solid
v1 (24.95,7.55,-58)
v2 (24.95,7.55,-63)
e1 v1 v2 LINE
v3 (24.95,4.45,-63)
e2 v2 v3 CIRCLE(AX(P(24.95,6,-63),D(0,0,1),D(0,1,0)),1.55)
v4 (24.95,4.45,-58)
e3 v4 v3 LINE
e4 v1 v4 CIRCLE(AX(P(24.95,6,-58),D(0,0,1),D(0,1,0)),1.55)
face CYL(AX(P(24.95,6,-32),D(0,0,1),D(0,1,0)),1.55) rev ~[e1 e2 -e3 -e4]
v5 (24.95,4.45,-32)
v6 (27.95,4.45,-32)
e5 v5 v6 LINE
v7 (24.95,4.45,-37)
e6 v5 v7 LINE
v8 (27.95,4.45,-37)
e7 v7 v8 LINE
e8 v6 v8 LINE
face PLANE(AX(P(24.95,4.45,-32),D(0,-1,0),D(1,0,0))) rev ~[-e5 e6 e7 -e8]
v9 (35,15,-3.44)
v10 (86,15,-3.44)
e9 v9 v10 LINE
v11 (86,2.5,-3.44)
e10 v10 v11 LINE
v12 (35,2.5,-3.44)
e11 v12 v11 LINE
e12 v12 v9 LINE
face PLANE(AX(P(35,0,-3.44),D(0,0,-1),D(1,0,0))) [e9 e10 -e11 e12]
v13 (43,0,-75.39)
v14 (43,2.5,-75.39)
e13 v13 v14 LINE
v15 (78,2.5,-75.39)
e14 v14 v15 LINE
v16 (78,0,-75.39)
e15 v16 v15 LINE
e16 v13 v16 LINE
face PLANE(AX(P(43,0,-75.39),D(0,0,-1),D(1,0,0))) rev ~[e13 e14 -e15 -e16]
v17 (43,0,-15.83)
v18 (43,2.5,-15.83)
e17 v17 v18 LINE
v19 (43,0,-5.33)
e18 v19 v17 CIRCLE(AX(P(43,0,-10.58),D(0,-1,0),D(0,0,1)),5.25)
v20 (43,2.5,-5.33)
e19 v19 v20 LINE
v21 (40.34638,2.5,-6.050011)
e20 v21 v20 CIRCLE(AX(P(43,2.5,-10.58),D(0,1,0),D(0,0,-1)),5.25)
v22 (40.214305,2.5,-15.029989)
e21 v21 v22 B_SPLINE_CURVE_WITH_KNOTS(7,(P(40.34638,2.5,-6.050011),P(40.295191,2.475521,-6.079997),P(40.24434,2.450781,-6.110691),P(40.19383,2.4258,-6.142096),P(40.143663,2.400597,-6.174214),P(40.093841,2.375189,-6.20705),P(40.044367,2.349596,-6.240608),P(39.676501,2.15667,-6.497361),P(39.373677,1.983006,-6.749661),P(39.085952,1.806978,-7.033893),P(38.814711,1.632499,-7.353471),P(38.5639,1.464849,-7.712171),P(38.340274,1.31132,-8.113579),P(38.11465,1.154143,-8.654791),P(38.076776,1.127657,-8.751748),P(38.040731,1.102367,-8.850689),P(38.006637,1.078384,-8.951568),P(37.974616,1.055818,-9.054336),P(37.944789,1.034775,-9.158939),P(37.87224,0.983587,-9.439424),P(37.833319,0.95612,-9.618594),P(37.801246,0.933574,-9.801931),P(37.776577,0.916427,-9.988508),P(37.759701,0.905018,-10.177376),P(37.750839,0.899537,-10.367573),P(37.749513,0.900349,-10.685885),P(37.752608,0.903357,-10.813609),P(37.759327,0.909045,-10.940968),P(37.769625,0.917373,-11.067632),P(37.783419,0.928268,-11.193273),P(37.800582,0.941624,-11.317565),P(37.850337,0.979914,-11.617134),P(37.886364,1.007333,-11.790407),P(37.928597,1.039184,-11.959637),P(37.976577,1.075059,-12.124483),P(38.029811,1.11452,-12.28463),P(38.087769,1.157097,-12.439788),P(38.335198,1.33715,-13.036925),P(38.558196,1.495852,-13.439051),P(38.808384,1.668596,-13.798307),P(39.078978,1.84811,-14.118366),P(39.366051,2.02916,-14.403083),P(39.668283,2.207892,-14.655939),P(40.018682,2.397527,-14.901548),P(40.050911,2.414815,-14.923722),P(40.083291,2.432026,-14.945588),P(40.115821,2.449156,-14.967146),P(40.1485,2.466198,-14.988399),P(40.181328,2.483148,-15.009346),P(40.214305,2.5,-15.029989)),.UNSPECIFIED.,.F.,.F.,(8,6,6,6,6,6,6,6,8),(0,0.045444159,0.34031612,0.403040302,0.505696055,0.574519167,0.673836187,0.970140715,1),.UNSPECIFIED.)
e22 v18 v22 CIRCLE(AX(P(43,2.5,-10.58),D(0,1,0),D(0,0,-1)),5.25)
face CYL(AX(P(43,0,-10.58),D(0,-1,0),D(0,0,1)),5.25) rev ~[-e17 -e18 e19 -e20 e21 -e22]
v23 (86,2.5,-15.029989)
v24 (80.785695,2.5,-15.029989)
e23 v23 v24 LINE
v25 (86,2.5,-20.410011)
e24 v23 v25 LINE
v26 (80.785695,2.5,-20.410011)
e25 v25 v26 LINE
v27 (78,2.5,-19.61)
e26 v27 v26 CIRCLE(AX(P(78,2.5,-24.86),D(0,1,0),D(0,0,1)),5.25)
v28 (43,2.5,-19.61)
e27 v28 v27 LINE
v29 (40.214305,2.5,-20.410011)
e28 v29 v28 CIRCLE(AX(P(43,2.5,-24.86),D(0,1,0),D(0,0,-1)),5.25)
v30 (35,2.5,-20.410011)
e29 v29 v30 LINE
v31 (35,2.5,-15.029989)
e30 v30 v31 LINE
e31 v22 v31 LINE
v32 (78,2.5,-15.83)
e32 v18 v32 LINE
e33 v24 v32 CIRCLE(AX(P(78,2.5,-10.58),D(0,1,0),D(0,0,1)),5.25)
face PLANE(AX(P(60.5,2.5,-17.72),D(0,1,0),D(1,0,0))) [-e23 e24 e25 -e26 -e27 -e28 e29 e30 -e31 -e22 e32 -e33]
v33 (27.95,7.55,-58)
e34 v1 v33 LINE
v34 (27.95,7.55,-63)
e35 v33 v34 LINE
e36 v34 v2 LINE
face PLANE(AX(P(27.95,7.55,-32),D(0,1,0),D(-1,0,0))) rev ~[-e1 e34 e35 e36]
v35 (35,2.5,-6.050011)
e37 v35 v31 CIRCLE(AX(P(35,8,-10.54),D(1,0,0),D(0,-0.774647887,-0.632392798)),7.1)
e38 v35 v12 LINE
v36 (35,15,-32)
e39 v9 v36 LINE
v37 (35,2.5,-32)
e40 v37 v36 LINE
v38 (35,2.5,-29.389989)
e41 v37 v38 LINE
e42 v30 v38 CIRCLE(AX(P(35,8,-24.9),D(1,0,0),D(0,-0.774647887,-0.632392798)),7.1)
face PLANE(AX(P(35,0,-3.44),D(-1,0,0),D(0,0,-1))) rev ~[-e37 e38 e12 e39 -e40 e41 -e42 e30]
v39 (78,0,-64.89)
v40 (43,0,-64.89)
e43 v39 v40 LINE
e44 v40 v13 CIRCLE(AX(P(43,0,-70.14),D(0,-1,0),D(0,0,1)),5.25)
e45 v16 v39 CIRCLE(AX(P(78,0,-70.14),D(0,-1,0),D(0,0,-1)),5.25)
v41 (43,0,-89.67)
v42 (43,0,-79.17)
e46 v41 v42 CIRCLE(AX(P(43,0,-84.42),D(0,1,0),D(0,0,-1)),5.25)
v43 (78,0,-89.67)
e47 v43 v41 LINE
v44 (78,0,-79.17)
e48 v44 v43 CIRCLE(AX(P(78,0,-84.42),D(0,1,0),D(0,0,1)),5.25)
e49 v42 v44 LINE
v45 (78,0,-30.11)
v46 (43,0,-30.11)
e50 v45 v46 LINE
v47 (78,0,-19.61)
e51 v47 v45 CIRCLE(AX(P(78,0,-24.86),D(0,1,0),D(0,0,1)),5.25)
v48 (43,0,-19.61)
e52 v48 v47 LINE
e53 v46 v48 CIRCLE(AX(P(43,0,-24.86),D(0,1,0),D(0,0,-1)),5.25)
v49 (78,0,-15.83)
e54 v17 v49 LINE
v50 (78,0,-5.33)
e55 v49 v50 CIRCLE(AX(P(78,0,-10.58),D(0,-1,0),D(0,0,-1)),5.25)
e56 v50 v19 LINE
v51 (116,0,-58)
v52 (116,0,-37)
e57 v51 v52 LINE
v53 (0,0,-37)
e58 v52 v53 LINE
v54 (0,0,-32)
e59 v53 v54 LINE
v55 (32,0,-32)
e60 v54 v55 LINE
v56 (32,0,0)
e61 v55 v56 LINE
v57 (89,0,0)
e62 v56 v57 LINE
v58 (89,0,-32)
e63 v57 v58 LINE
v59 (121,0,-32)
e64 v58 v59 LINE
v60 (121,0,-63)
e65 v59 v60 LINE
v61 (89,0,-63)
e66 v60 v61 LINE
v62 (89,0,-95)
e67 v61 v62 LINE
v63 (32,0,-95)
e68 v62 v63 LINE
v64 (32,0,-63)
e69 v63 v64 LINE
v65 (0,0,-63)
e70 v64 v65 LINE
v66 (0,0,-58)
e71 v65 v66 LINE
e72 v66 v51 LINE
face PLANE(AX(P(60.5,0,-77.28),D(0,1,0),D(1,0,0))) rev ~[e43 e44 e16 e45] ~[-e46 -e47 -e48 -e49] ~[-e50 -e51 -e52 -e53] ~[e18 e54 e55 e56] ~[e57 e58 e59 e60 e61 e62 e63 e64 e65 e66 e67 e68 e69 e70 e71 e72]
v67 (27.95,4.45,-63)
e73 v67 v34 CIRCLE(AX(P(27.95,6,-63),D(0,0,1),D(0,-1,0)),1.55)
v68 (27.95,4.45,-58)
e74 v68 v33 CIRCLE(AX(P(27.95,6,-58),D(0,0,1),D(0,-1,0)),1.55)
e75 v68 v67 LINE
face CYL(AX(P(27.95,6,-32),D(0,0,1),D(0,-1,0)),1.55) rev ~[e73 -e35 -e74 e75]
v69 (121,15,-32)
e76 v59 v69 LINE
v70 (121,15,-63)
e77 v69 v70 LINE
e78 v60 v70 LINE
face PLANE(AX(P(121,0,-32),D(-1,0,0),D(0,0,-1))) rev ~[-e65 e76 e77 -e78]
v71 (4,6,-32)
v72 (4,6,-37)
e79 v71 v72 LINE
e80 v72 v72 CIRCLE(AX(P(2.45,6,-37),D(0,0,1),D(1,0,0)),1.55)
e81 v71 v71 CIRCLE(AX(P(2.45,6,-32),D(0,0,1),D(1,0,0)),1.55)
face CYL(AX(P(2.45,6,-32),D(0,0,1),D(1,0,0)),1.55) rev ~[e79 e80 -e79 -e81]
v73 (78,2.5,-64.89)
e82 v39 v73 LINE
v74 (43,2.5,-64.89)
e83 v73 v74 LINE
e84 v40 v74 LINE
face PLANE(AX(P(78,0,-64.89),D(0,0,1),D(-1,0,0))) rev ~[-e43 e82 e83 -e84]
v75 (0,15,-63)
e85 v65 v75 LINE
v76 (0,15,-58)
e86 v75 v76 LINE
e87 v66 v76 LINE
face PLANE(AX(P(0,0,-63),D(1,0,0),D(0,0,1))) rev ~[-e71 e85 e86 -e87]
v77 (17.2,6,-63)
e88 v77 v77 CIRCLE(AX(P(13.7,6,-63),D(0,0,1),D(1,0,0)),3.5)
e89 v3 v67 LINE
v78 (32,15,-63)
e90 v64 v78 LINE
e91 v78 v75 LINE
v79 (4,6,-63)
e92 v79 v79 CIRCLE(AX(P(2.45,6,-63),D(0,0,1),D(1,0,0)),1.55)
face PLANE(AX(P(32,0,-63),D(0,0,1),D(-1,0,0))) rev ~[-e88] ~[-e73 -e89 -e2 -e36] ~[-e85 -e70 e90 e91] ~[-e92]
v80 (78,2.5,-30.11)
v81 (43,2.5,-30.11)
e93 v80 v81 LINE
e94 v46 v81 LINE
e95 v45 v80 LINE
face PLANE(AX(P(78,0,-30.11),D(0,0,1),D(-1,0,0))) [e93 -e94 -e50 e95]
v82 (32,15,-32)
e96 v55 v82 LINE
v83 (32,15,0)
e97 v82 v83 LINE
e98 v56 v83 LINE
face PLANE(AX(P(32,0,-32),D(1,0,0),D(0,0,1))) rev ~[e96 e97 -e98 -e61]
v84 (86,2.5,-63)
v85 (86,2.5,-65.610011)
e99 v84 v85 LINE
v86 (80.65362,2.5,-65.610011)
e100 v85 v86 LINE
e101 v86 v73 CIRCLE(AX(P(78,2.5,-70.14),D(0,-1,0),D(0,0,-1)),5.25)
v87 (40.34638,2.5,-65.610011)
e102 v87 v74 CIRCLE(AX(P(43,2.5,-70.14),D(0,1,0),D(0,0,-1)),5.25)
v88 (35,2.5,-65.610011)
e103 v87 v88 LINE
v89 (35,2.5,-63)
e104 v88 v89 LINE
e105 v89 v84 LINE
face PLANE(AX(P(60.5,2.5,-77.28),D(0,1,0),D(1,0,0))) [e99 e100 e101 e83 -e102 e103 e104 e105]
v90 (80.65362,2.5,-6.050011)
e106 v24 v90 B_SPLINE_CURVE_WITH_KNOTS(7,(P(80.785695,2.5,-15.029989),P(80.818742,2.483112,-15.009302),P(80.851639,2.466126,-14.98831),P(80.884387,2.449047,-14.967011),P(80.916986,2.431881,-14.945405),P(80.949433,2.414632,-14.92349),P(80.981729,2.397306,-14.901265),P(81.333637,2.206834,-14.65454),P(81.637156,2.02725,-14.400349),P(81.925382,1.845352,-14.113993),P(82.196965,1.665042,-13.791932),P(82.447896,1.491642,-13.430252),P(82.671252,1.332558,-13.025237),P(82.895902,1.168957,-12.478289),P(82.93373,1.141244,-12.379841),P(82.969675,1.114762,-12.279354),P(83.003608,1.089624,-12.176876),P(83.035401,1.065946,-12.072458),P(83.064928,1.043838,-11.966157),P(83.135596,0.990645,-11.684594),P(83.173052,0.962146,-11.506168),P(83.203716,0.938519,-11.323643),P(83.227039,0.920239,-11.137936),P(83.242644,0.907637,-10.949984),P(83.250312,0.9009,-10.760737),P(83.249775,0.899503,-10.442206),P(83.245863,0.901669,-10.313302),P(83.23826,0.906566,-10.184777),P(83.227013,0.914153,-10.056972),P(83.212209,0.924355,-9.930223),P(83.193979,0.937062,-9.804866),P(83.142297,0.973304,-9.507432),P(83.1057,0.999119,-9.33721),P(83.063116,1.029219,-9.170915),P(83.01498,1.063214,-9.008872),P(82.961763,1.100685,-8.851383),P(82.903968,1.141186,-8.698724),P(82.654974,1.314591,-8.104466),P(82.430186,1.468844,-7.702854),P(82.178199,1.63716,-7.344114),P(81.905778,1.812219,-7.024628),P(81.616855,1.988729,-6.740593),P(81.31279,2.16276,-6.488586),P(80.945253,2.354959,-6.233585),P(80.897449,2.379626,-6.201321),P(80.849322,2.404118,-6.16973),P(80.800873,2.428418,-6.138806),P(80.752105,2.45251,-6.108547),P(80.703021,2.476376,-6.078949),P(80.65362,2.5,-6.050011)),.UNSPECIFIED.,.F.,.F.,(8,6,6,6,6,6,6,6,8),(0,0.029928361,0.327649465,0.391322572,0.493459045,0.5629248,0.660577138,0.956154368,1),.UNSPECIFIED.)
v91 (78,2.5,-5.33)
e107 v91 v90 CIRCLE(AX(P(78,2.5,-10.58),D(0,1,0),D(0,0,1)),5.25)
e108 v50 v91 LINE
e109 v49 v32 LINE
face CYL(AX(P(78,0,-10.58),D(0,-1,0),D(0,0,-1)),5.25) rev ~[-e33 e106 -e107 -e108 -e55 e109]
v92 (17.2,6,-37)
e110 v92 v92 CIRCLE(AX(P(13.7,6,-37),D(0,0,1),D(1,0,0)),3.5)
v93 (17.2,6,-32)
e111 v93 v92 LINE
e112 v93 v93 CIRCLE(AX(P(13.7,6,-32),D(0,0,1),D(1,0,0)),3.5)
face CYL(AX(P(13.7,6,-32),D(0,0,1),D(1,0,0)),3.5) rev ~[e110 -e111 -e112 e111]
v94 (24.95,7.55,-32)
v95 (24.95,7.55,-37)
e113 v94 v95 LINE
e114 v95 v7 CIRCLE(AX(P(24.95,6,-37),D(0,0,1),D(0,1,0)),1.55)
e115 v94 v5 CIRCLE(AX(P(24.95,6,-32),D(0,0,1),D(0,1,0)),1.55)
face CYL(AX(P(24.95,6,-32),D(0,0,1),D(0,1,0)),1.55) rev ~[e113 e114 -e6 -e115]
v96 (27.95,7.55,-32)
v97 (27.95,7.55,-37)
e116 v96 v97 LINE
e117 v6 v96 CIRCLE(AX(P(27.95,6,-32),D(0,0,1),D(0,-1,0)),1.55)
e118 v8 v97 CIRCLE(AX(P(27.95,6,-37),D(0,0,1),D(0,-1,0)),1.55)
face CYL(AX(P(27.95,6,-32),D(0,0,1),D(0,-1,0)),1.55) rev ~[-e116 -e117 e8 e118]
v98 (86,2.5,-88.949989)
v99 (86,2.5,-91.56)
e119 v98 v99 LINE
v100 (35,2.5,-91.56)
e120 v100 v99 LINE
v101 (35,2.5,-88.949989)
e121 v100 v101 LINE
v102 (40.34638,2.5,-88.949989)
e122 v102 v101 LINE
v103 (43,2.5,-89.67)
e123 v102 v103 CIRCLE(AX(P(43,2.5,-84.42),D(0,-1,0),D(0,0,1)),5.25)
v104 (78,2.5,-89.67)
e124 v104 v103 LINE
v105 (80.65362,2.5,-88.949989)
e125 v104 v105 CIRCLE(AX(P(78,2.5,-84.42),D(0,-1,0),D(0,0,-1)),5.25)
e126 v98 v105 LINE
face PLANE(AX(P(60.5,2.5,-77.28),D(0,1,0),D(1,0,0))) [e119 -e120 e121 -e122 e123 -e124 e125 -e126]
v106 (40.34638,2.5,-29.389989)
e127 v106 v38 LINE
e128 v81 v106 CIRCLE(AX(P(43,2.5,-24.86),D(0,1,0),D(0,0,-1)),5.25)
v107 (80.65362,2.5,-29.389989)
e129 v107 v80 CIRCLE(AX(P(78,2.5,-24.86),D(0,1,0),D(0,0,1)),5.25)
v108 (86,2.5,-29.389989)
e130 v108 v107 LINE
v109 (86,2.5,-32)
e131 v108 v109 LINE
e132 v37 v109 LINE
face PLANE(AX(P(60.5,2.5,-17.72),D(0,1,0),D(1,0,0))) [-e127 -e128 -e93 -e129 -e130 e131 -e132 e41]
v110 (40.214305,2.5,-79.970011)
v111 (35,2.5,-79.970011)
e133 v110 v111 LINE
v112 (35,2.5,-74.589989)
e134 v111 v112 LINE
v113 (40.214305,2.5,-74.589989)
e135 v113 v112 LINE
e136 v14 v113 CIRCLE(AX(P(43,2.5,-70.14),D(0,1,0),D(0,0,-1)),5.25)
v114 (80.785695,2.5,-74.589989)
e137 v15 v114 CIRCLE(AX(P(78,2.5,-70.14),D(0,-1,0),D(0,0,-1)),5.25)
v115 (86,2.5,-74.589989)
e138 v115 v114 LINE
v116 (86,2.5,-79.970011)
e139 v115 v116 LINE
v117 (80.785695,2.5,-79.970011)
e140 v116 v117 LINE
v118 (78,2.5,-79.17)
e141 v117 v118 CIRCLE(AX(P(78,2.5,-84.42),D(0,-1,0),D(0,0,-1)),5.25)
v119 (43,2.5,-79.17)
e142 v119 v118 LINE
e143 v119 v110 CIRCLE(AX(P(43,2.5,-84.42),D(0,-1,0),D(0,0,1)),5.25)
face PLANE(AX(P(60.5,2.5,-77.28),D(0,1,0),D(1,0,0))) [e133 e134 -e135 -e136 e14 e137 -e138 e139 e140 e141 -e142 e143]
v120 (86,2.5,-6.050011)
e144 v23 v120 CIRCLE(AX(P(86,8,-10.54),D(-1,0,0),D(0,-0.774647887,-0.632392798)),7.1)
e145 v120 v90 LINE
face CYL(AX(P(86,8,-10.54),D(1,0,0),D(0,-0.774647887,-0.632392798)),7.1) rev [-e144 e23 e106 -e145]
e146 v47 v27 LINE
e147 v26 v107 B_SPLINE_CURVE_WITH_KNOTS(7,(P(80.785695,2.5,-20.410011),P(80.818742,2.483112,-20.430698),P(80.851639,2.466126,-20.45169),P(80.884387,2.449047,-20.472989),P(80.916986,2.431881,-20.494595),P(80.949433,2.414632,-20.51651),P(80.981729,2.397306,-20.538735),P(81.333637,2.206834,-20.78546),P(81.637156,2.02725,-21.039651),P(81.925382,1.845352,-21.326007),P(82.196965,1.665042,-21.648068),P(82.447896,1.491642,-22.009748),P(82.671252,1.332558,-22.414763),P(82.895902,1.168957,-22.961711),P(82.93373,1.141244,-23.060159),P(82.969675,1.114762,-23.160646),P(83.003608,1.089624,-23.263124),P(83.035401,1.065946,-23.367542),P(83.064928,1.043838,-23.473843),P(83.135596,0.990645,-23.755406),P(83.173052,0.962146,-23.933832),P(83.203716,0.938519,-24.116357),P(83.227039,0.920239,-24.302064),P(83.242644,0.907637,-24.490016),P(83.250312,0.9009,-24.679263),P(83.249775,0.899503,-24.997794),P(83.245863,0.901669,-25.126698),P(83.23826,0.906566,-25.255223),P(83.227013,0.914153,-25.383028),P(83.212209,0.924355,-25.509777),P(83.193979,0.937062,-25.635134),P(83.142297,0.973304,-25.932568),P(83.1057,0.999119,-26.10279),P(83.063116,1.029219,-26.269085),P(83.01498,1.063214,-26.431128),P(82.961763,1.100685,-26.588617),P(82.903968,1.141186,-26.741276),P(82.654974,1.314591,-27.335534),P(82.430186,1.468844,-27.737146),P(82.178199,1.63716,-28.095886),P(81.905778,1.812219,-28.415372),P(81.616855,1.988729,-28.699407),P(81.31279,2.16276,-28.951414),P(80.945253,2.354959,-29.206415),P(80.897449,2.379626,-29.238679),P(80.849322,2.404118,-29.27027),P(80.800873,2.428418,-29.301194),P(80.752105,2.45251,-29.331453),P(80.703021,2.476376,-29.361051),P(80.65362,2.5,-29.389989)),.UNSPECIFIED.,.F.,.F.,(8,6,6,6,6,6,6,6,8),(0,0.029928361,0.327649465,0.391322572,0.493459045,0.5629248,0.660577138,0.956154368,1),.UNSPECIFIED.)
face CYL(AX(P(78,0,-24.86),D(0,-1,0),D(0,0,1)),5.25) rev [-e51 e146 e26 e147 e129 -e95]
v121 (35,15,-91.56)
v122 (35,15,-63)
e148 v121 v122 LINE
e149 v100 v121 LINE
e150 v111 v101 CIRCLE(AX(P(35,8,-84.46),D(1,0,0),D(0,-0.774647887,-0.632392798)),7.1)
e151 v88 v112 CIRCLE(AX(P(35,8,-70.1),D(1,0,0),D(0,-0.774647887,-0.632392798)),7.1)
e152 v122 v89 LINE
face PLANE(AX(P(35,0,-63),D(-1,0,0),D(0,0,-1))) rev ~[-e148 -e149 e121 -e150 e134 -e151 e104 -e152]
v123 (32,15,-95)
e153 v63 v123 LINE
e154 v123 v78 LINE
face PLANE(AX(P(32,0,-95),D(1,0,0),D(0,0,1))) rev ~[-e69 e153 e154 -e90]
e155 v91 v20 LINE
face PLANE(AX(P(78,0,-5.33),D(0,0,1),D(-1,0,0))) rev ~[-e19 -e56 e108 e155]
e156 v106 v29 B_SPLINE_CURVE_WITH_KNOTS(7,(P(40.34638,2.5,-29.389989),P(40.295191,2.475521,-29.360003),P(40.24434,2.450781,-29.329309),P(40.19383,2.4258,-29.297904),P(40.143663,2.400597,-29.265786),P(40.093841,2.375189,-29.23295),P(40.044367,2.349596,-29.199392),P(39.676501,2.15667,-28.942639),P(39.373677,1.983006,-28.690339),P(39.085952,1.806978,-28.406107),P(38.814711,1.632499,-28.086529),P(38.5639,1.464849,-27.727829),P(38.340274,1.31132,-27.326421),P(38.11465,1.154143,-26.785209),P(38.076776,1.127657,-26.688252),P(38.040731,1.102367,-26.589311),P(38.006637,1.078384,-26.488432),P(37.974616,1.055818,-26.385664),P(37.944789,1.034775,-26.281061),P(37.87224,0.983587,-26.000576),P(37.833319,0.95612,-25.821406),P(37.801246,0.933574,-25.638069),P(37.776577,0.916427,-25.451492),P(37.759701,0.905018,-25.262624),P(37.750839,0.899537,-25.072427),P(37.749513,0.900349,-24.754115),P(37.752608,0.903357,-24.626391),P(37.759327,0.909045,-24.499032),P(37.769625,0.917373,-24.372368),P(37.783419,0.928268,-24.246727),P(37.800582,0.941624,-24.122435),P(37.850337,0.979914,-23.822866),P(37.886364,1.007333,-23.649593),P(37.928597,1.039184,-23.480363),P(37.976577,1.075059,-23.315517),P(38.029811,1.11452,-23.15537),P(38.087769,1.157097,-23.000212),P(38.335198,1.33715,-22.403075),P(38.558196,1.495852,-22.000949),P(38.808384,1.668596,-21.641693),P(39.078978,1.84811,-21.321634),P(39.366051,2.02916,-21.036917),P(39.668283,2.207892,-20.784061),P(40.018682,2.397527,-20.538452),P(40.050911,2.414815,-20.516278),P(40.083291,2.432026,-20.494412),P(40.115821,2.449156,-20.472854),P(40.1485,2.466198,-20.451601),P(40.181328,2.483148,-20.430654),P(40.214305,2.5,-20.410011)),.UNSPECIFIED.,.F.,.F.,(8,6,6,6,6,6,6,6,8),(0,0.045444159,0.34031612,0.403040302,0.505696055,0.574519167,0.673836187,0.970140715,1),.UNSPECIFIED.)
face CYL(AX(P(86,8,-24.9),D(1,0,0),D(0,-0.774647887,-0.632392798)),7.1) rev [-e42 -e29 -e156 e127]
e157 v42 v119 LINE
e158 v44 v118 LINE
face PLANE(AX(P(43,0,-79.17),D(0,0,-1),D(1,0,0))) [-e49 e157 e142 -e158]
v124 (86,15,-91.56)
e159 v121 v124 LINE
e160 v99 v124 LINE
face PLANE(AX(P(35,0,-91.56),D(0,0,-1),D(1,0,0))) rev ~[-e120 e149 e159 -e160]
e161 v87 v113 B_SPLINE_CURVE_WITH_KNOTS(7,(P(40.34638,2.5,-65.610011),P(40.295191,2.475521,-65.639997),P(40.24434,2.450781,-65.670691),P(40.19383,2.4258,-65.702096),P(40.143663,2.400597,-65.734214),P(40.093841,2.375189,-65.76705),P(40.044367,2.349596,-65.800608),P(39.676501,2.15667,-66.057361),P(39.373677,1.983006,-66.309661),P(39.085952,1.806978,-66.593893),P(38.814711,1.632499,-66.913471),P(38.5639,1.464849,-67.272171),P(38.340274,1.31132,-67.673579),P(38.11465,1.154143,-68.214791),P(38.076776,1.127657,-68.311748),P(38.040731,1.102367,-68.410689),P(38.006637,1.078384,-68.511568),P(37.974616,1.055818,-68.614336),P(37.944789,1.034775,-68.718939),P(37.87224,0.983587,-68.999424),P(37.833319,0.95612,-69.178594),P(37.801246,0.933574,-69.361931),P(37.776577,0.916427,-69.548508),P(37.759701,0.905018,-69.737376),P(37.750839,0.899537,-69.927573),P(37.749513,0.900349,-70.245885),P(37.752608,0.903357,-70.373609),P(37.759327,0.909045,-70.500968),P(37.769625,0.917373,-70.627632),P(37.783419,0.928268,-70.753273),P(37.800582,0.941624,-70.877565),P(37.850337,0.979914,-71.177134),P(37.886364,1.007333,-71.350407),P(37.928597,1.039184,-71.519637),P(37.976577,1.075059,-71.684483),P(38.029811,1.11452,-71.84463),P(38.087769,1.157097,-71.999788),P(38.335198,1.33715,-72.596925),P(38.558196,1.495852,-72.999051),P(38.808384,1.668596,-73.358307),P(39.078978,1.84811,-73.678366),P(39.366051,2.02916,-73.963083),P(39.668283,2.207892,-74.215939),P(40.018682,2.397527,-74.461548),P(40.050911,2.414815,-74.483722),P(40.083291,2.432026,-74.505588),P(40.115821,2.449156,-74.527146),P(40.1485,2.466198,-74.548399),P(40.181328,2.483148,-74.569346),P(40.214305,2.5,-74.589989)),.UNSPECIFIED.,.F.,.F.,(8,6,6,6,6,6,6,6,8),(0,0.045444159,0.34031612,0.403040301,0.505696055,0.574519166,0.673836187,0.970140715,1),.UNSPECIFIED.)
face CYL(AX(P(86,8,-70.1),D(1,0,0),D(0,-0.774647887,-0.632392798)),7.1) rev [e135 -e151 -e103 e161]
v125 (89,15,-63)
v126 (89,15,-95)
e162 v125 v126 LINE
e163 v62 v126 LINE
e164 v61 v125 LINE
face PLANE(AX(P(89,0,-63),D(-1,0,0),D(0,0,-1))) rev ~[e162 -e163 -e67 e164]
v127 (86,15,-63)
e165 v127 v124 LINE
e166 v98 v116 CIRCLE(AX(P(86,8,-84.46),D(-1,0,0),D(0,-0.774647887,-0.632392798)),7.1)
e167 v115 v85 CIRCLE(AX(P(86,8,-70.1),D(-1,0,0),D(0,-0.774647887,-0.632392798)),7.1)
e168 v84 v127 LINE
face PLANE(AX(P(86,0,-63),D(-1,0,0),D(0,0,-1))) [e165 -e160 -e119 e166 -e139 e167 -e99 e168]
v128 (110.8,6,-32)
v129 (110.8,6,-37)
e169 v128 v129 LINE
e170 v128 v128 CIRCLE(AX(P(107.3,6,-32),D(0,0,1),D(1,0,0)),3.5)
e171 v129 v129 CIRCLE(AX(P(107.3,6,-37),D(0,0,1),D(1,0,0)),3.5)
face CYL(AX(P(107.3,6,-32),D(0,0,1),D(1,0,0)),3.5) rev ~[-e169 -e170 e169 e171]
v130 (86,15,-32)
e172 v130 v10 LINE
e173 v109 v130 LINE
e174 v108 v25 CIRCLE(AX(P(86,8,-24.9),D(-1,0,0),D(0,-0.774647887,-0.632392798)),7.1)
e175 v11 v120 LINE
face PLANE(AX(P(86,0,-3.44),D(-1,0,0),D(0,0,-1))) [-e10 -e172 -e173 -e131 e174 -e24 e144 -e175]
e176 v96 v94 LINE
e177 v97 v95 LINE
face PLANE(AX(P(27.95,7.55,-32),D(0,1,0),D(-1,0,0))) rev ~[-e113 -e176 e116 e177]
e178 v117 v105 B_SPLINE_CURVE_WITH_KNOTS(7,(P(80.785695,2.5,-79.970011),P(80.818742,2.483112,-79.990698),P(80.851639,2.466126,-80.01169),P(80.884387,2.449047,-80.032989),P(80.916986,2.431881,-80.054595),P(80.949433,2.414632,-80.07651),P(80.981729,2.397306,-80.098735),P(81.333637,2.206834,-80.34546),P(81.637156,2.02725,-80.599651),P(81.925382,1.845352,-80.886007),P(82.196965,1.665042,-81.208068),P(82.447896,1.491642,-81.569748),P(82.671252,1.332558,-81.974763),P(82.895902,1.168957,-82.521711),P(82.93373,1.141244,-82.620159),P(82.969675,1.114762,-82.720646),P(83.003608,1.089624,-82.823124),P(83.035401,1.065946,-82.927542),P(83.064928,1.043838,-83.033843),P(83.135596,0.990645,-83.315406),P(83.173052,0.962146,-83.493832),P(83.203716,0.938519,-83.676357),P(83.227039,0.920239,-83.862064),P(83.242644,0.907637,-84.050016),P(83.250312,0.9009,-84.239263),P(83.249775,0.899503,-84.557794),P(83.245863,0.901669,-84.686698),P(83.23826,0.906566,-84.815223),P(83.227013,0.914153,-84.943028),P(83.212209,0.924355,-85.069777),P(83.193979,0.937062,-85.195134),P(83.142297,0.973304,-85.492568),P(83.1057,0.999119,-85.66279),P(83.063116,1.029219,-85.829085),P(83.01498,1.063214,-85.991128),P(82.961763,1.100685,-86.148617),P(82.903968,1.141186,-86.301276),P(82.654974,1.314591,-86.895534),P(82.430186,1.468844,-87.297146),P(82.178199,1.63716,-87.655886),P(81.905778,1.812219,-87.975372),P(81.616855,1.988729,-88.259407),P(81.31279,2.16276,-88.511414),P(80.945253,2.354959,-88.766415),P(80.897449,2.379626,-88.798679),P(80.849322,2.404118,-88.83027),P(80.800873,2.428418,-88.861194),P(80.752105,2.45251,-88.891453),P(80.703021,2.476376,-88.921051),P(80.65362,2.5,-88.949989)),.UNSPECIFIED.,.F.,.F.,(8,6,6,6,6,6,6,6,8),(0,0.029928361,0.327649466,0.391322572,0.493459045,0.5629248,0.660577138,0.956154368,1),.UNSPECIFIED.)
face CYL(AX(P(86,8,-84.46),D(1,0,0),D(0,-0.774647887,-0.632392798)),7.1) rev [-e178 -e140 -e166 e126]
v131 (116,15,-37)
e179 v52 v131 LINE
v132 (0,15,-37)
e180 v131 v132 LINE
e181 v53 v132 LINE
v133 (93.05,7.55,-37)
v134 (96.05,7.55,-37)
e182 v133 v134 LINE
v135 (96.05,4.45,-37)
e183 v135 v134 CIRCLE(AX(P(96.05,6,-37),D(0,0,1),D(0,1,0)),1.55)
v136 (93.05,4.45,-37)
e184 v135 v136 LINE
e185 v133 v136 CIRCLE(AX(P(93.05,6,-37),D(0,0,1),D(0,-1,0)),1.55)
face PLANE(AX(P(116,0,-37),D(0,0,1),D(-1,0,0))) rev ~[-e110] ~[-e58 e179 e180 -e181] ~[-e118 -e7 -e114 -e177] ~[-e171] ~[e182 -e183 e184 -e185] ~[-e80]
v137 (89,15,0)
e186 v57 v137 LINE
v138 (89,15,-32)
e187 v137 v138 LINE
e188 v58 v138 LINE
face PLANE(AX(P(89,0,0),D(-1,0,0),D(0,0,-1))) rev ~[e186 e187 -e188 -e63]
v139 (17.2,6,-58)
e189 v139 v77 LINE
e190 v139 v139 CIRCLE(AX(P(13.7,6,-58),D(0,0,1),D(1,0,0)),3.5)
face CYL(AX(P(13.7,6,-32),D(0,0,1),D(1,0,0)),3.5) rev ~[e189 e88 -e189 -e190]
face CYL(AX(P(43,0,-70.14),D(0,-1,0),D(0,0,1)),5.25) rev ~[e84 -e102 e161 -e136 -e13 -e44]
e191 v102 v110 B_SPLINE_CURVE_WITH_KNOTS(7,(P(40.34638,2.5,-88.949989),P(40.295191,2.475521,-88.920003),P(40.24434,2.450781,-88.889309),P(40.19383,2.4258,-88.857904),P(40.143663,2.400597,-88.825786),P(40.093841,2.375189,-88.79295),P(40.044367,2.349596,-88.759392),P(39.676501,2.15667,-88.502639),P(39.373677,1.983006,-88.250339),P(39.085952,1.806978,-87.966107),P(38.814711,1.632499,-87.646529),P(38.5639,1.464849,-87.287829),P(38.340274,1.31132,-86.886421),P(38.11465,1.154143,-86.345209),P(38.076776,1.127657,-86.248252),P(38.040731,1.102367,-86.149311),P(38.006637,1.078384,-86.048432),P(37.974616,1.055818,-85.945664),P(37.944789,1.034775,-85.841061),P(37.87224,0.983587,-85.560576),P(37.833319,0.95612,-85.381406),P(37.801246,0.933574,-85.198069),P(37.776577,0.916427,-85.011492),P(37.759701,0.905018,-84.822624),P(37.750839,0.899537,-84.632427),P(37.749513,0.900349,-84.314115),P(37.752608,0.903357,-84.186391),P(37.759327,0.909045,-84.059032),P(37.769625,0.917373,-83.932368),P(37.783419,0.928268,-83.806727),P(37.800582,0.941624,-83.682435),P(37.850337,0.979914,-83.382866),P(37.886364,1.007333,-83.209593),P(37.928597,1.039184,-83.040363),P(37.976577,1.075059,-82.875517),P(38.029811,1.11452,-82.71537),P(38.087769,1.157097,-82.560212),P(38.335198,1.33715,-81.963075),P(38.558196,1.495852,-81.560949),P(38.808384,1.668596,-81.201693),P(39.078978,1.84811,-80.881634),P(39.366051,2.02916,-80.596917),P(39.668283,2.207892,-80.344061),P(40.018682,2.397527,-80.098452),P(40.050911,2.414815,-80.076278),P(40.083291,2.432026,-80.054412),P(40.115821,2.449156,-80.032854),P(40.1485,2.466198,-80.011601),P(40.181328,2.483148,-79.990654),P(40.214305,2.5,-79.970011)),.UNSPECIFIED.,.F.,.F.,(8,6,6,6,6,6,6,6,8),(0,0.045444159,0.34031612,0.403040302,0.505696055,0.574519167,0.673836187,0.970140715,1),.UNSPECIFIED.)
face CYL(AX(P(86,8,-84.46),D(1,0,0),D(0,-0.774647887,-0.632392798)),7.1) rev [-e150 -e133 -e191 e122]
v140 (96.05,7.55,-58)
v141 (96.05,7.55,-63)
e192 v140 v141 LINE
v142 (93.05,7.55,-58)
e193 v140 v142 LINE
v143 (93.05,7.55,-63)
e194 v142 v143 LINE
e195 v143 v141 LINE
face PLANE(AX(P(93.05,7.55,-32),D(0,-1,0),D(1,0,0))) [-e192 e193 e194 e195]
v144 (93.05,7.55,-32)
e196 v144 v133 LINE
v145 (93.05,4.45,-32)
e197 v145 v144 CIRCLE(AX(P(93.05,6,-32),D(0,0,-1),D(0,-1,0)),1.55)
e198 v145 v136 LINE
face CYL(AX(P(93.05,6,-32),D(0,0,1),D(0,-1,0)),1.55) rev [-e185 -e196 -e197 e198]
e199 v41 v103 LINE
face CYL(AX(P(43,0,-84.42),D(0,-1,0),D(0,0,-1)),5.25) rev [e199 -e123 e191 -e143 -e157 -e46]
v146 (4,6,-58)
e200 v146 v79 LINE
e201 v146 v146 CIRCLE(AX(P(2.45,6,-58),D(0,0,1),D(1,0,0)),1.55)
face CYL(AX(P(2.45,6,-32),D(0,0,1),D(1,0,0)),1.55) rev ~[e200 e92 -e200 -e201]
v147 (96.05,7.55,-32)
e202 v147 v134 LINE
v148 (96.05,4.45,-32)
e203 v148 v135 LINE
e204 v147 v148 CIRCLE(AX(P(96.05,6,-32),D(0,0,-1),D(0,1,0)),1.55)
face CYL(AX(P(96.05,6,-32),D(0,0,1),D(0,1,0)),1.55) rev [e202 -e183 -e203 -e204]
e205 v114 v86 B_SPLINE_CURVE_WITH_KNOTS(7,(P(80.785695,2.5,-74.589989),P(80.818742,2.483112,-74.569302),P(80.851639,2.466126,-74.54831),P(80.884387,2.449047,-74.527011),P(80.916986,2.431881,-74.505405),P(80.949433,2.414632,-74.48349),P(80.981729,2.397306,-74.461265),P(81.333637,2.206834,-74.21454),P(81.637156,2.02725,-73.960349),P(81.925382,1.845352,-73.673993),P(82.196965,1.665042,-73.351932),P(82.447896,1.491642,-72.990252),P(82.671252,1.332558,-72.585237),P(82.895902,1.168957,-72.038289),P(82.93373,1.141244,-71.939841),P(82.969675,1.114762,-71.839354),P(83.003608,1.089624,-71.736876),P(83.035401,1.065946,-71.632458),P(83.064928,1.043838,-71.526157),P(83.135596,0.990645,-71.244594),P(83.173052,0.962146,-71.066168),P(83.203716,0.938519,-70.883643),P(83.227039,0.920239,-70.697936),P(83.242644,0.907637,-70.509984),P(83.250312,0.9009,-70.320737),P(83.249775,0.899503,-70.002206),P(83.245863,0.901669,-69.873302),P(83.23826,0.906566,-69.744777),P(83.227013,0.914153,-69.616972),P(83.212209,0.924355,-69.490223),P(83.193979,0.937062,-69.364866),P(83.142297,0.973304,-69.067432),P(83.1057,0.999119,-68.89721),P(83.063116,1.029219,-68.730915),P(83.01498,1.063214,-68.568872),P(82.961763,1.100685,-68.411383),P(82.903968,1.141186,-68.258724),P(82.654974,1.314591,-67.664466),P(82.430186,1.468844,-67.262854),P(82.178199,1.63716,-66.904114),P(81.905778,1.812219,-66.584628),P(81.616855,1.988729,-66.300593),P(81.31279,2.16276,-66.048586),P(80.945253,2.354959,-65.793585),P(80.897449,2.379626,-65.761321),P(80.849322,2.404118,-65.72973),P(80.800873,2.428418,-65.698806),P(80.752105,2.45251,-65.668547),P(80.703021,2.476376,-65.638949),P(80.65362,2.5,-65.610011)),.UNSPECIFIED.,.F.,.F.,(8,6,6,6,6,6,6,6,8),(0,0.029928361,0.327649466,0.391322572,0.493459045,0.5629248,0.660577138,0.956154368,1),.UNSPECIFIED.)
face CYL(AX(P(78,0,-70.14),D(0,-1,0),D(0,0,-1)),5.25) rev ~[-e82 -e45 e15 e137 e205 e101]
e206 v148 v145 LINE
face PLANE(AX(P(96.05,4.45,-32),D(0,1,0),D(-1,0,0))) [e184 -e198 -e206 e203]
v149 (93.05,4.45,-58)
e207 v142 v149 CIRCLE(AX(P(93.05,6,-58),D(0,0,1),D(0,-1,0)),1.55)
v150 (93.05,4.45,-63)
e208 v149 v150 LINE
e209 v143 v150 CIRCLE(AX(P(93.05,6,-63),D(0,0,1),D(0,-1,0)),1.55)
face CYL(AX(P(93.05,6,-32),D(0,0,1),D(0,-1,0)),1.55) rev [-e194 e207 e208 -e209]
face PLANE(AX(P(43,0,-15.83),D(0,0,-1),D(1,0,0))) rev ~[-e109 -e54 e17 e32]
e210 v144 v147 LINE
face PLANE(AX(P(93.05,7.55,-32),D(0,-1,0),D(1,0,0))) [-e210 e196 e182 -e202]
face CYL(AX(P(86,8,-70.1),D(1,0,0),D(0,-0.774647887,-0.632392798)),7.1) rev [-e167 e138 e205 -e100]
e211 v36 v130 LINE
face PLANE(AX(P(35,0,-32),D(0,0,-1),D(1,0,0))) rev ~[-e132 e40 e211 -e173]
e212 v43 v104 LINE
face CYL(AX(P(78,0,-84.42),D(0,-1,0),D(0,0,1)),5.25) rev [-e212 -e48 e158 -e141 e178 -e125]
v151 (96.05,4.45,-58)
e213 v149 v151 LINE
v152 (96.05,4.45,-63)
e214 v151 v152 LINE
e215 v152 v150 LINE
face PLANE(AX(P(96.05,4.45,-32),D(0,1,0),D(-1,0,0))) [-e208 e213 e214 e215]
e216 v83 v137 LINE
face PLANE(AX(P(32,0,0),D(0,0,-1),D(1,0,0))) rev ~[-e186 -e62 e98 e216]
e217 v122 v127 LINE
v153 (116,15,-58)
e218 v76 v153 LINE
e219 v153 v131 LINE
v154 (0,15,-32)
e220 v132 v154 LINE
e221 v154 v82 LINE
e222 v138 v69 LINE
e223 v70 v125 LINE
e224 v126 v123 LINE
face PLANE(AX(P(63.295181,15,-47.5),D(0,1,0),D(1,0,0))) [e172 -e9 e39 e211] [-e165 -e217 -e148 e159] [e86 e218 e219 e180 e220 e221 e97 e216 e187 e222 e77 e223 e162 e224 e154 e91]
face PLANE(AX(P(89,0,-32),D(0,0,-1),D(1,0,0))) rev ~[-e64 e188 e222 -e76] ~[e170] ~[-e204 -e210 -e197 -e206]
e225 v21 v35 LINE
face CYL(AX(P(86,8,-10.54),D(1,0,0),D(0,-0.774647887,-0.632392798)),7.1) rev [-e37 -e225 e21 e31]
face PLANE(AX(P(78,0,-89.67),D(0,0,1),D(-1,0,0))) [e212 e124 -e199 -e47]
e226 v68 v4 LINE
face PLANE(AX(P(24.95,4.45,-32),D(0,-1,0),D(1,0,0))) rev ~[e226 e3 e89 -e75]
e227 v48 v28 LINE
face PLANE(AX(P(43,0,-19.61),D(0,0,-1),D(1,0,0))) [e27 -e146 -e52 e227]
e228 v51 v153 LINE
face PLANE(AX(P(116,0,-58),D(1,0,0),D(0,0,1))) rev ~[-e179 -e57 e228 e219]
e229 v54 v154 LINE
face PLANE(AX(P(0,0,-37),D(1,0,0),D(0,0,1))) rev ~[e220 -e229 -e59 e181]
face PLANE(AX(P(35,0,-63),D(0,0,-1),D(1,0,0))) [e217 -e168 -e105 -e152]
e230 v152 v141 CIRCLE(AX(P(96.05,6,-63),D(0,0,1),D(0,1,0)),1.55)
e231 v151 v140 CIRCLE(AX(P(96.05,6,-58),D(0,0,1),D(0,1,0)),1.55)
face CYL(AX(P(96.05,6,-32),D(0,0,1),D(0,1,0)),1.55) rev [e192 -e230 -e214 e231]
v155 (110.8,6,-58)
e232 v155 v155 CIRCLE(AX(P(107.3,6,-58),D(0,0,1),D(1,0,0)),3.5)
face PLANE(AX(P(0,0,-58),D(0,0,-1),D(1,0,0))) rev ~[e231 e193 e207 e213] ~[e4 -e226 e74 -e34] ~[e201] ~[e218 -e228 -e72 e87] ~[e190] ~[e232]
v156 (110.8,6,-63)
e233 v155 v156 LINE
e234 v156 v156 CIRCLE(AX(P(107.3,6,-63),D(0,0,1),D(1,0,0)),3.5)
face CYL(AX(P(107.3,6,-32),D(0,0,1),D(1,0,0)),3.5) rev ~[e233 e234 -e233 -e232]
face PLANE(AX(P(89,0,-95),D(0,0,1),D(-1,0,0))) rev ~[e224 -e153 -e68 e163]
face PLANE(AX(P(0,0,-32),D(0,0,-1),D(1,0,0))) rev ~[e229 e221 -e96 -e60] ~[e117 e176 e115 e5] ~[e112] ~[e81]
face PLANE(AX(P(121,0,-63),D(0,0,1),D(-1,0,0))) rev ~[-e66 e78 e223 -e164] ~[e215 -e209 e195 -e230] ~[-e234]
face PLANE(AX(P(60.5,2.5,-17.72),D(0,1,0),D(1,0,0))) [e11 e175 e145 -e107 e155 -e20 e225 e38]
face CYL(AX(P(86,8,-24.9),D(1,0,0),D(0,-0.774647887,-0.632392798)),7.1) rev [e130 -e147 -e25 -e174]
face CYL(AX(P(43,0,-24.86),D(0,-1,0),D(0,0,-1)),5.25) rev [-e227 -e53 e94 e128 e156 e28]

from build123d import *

# Parameters (mm, degrees)
SKETCH1_W                  = 51
SKETCH1_H                  = 28.56
TOTALHEIGHT_DEPTH          = 15
SKETCH1_3_W                = 51
SKETCH1_3_H                = 28.56
FLOORHEIGHT_DEPTH          = 2.5
HOLESFORBEARINGMOUNT_REACH = 139.241
SKETCH2_R                  = 1.55
SKETCH2_R_2                = 3.5
CUT_EXTRUDE2_REACH         = 131.019


with BuildPart() as part:
    # Sketch1 → TotalHeight (new body)
    with BuildSketch(Plane(origin=(0, 0, 0), x_dir=(1, 0, 0), z_dir=(0, 1, 0))):
        Polygon((32, 32), (32, 0), (89, 0), (89, 32), (121, 32), (121, 47.5), (121, 63), (89, 63), (89, 95), (32, 95), (32, 63), (0, 63), (0, 58), (5, 58), (116, 58), (116, 37), (5, 37), (0, 37), (0, 32), align=None)
        with Locations((60.5, 17.72)):
            Rectangle(SKETCH1_W, SKETCH1_H, mode=Mode.SUBTRACT)
        with Locations((60.5, 77.28)):
            Rectangle(SKETCH1_W, SKETCH1_H, mode=Mode.SUBTRACT)
    extrude(amount=TOTALHEIGHT_DEPTH)

    # Sketch1<3> → FloorHeight (add)
    # profile 1 of 2: a face of its own
    with BuildSketch(Plane(origin=(0, 0, 0), x_dir=(1, 0, 0), z_dir=(0, 1, 0))):
        with Locations((60.5, 77.28)):
            Rectangle(SKETCH1_3_W, SKETCH1_3_H)
        with BuildLine():
            ThreePointArc((78, 79.17), (83.25, 84.42), (78, 89.67))
            Line((78, 89.67), (43, 89.67))
            ThreePointArc((43, 89.67), (37.75, 84.42), (43, 79.17))
            Line((43, 79.17), (78, 79.17))
        make_face(mode=Mode.SUBTRACT)
        with BuildLine():
            Line((43, 75.39), (78, 75.39))
            ThreePointArc((78, 75.39), (83.25, 70.14), (78, 64.89))
            Line((78, 64.89), (43, 64.89))
            ThreePointArc((43, 64.89), (37.75, 70.14), (43, 75.39))
        make_face(mode=Mode.SUBTRACT)
    # profile 2 of 2: a face of its own
    with BuildSketch(Plane(origin=(0, 0, 0), x_dir=(1, 0, 0), z_dir=(0, 1, 0))):
        with Locations((60.5, 17.72)):
            Rectangle(SKETCH1_3_W, SKETCH1_3_H)
        with BuildLine():
            ThreePointArc((78, 19.61), (83.25, 24.86), (78, 30.11))
            Line((78, 30.11), (43, 30.11))
            ThreePointArc((43, 30.11), (37.75, 24.86), (43, 19.61))
            Line((43, 19.61), (78, 19.61))
        make_face(mode=Mode.SUBTRACT)
        with BuildLine():
            Line((43, 15.83), (78, 15.83))
            ThreePointArc((78, 15.83), (83.25, 10.58), (78, 5.33))
            Line((78, 5.33), (43, 5.33))
            ThreePointArc((43, 5.33), (37.75, 10.58), (43, 15.83))
        make_face(mode=Mode.SUBTRACT)
    extrude(amount=FLOORHEIGHT_DEPTH)

    # HolesForBearingMount: up to this face of the body (flat: up to its plane)
    holesforbearingmount_end = Plane(part.part.faces().sort_by_distance((16, 7.5, -63))[0])
    # Sketch2 → HolesForBearingMount (cut, up to the picked face)
    with BuildSketch(Plane.XY.offset(-32), mode=Mode.PRIVATE) as holesforbearingmount_sk1:
        with Locations((2.45, 6)):
            Circle(SKETCH2_R)
    holesforbearingmount_tool1 = split(extrude(holesforbearingmount_sk1.sketch, amount=-HOLESFORBEARINGMOUNT_REACH, mode=Mode.PRIVATE), bisect_by=holesforbearingmount_end, keep=Keep.BOTH, mode=Mode.PRIVATE)
    # Sketch2 → HolesForBearingMount (cut, up to the picked face)
    with BuildSketch(Plane.XY.offset(-32), mode=Mode.PRIVATE) as holesforbearingmount_sk2:
        with Locations((13.7, 6)):
            Circle(SKETCH2_R_2)
    holesforbearingmount_tool2 = split(extrude(holesforbearingmount_sk2.sketch, amount=-HOLESFORBEARINGMOUNT_REACH, mode=Mode.PRIVATE), bisect_by=holesforbearingmount_end, keep=Keep.BOTH, mode=Mode.PRIVATE)
    # Sketch2 → HolesForBearingMount (cut, up to the picked face)
    with BuildSketch(Plane.XY.offset(-32), mode=Mode.PRIVATE) as holesforbearingmount_sk3:
        with BuildLine():
            Line((24.95, 4.45), (27.95, 4.45))
            ThreePointArc((27.95, 4.45), (29.5, 6), (27.95, 7.55))
            Line((27.95, 7.55), (24.95, 7.55))
            ThreePointArc((24.95, 7.55), (23.4, 6), (24.95, 4.45))
        make_face()
    holesforbearingmount_tool3 = split(extrude(holesforbearingmount_sk3.sketch, amount=-HOLESFORBEARINGMOUNT_REACH, mode=Mode.PRIVATE), bisect_by=holesforbearingmount_end, keep=Keep.BOTH, mode=Mode.PRIVATE)
    # Sketch2 → HolesForBearingMount (cut, up to the picked face)
    with BuildSketch(Plane.XY.offset(-32), mode=Mode.PRIVATE) as holesforbearingmount_sk4:
        with BuildLine():
            ThreePointArc((93.05, 4.45), (91.5, 6), (93.05, 7.55))
            Line((93.05, 7.55), (96.05, 7.55))
            ThreePointArc((96.05, 7.55), (97.6, 6), (96.05, 4.45))
            Line((96.05, 4.45), (93.05, 4.45))
        make_face()
    holesforbearingmount_tool4 = split(extrude(holesforbearingmount_sk4.sketch, amount=-HOLESFORBEARINGMOUNT_REACH, mode=Mode.PRIVATE), bisect_by=holesforbearingmount_end, keep=Keep.BOTH, mode=Mode.PRIVATE)
    # Sketch2 → HolesForBearingMount (cut, up to the picked face)
    with BuildSketch(Plane.XY.offset(-32), mode=Mode.PRIVATE) as holesforbearingmount_sk5:
        with Locations((107.3, 6)):
            Circle(SKETCH2_R_2)
    holesforbearingmount_tool5 = split(extrude(holesforbearingmount_sk5.sketch, amount=-HOLESFORBEARINGMOUNT_REACH, mode=Mode.PRIVATE), bisect_by=holesforbearingmount_end, keep=Keep.BOTH, mode=Mode.PRIVATE)
    add(holesforbearingmount_tool1.solids().sort_by(Axis((2.45, 6, -32), (0, 0, -1)))[0], mode=Mode.SUBTRACT)
    add(holesforbearingmount_tool2.solids().sort_by(Axis((13.7, 6, -32), (0, 0, -1)))[0], mode=Mode.SUBTRACT)
    add(holesforbearingmount_tool3.solids().sort_by(Axis((26.45, 6, -32), (0, 0, -1)))[0], mode=Mode.SUBTRACT)
    add(holesforbearingmount_tool4.solids().sort_by(Axis((94.55, 6, -32), (0, 0, -1)))[0], mode=Mode.SUBTRACT)
    add(holesforbearingmount_tool5.solids().sort_by(Axis((107.3, 6, -32), (0, 0, -1)))[0], mode=Mode.SUBTRACT)

    # Cut-Extrude2: up to this face of the body (flat: up to its plane)
    cut_extrude2_end = Plane(part.part.faces().sort_by_distance((35, 8.75, -17.72))[0])
    # Sketch3 → Cut-Extrude2 (cut, up to the picked face)
    with BuildSketch(Plane.ZY.offset(-86), mode=Mode.PRIVATE) as cut_extrude2_sk1:
        with BuildLine():
            ThreePointArc((-77.36, 8), (-87.503934876, 14.414394786), (-88.949988864, 2.5))
            Line((-88.949988864, 2.5), (-79.970011136, 2.5))
            ThreePointArc((-79.970011136, 2.5), (-78.045605214, 4.956065124), (-77.36, 8))
        make_face()
    cut_extrude2_tool1 = split(extrude(cut_extrude2_sk1.sketch, amount=CUT_EXTRUDE2_REACH, mode=Mode.PRIVATE), bisect_by=cut_extrude2_end, keep=Keep.BOTH, mode=Mode.PRIVATE)
    # Sketch3 → Cut-Extrude2 (cut, up to the picked face)
    with BuildSketch(Plane.ZY.offset(-86), mode=Mode.PRIVATE) as cut_extrude2_sk2:
        with BuildLine():
            Line((-79.970011136, 2.5), (-88.949988864, 2.5))
            ThreePointArc((-88.949988864, 2.5), (-84.46, 0.9), (-79.970011136, 2.5))
        make_face()
    cut_extrude2_tool2 = split(extrude(cut_extrude2_sk2.sketch, amount=CUT_EXTRUDE2_REACH, mode=Mode.PRIVATE), bisect_by=cut_extrude2_end, keep=Keep.BOTH, mode=Mode.PRIVATE)
    # Sketch3 → Cut-Extrude2 (cut, up to the picked face)
    with BuildSketch(Plane.ZY.offset(-86), mode=Mode.PRIVATE) as cut_extrude2_sk3:
        with BuildLine():
            ThreePointArc((-63, 8), (-73.143934876, 14.414394786), (-74.589988864, 2.5))
            Line((-74.589988864, 2.5), (-65.610011136, 2.5))
            ThreePointArc((-65.610011136, 2.5), (-63.685605214, 4.956065124), (-63, 8))
        make_face()
    cut_extrude2_tool3 = split(extrude(cut_extrude2_sk3.sketch, amount=CUT_EXTRUDE2_REACH, mode=Mode.PRIVATE), bisect_by=cut_extrude2_end, keep=Keep.BOTH, mode=Mode.PRIVATE)
    # Sketch3 → Cut-Extrude2 (cut, up to the picked face)
    with BuildSketch(Plane.ZY.offset(-86), mode=Mode.PRIVATE) as cut_extrude2_sk4:
        with BuildLine():
            Line((-65.610011136, 2.5), (-74.589988864, 2.5))
            ThreePointArc((-74.589988864, 2.5), (-70.1, 0.9), (-65.610011136, 2.5))
        make_face()
    cut_extrude2_tool4 = split(extrude(cut_extrude2_sk4.sketch, amount=CUT_EXTRUDE2_REACH, mode=Mode.PRIVATE), bisect_by=cut_extrude2_end, keep=Keep.BOTH, mode=Mode.PRIVATE)
    # Sketch3 → Cut-Extrude2 (cut, up to the picked face)
    with BuildSketch(Plane.ZY.offset(-86), mode=Mode.PRIVATE) as cut_extrude2_sk5:
        with BuildLine():
            ThreePointArc((-17.8, 8), (-27.943934876, 14.414394786), (-29.389988864, 2.5))
            Line((-29.389988864, 2.5), (-20.410011136, 2.5))
            ThreePointArc((-20.410011136, 2.5), (-18.485605214, 4.956065124), (-17.8, 8))
        make_face()
    cut_extrude2_tool5 = split(extrude(cut_extrude2_sk5.sketch, amount=CUT_EXTRUDE2_REACH, mode=Mode.PRIVATE), bisect_by=cut_extrude2_end, keep=Keep.BOTH, mode=Mode.PRIVATE)
    # Sketch3 → Cut-Extrude2 (cut, up to the picked face)
    with BuildSketch(Plane.ZY.offset(-86), mode=Mode.PRIVATE) as cut_extrude2_sk6:
        with BuildLine():
            Line((-20.410011136, 2.5), (-29.389988864, 2.5))
            ThreePointArc((-29.389988864, 2.5), (-24.9, 0.9), (-20.410011136, 2.5))
        make_face()
    cut_extrude2_tool6 = split(extrude(cut_extrude2_sk6.sketch, amount=CUT_EXTRUDE2_REACH, mode=Mode.PRIVATE), bisect_by=cut_extrude2_end, keep=Keep.BOTH, mode=Mode.PRIVATE)
    # Sketch3 → Cut-Extrude2 (cut, up to the picked face)
    with BuildSketch(Plane.ZY.offset(-86), mode=Mode.PRIVATE) as cut_extrude2_sk7:
        with BuildLine():
            ThreePointArc((-3.44, 8), (-13.583934876, 14.414394786), (-15.029988864, 2.5))
            Line((-15.029988864, 2.5), (-6.050011136, 2.5))
            ThreePointArc((-6.050011136, 2.5), (-4.125605214, 4.956065124), (-3.44, 8))
        make_face()
    cut_extrude2_tool7 = split(extrude(cut_extrude2_sk7.sketch, amount=CUT_EXTRUDE2_REACH, mode=Mode.PRIVATE), bisect_by=cut_extrude2_end, keep=Keep.BOTH, mode=Mode.PRIVATE)
    # Sketch3 → Cut-Extrude2 (cut, up to the picked face)
    with BuildSketch(Plane.ZY.offset(-86), mode=Mode.PRIVATE) as cut_extrude2_sk8:
        with BuildLine():
            Line((-6.050011136, 2.5), (-15.029988864, 2.5))
            ThreePointArc((-15.029988864, 2.5), (-10.54, 0.9), (-6.050011136, 2.5))
        make_face()
    cut_extrude2_tool8 = split(extrude(cut_extrude2_sk8.sketch, amount=CUT_EXTRUDE2_REACH, mode=Mode.PRIVATE), bisect_by=cut_extrude2_end, keep=Keep.BOTH, mode=Mode.PRIVATE)
    add(cut_extrude2_tool1.solids().sort_by(Axis((86, 8.40623, -84.46), (-1, 0, 0)))[0], mode=Mode.SUBTRACT)
    add(cut_extrude2_tool2.solids().sort_by(Axis((86, 1.853386, -84.46), (-1, 0, 0)))[0], mode=Mode.SUBTRACT)
    add(cut_extrude2_tool3.solids().sort_by(Axis((86, 8.40623, -70.1), (-1, 0, 0)))[0], mode=Mode.SUBTRACT)
    add(cut_extrude2_tool4.solids().sort_by(Axis((86, 1.853386, -70.1), (-1, 0, 0)))[0], mode=Mode.SUBTRACT)
    add(cut_extrude2_tool5.solids().sort_by(Axis((86, 8.40623, -24.9), (-1, 0, 0)))[0], mode=Mode.SUBTRACT)
    add(cut_extrude2_tool6.solids().sort_by(Axis((86, 1.853386, -24.9), (-1, 0, 0)))[0], mode=Mode.SUBTRACT)
    add(cut_extrude2_tool7.solids().sort_by(Axis((86, 8.40623, -10.54), (-1, 0, 0)))[0], mode=Mode.SUBTRACT)
    add(cut_extrude2_tool8.solids().sort_by(Axis((86, 1.853386, -10.54), (-1, 0, 0)))[0], mode=Mode.SUBTRACT)


solid = part.part
